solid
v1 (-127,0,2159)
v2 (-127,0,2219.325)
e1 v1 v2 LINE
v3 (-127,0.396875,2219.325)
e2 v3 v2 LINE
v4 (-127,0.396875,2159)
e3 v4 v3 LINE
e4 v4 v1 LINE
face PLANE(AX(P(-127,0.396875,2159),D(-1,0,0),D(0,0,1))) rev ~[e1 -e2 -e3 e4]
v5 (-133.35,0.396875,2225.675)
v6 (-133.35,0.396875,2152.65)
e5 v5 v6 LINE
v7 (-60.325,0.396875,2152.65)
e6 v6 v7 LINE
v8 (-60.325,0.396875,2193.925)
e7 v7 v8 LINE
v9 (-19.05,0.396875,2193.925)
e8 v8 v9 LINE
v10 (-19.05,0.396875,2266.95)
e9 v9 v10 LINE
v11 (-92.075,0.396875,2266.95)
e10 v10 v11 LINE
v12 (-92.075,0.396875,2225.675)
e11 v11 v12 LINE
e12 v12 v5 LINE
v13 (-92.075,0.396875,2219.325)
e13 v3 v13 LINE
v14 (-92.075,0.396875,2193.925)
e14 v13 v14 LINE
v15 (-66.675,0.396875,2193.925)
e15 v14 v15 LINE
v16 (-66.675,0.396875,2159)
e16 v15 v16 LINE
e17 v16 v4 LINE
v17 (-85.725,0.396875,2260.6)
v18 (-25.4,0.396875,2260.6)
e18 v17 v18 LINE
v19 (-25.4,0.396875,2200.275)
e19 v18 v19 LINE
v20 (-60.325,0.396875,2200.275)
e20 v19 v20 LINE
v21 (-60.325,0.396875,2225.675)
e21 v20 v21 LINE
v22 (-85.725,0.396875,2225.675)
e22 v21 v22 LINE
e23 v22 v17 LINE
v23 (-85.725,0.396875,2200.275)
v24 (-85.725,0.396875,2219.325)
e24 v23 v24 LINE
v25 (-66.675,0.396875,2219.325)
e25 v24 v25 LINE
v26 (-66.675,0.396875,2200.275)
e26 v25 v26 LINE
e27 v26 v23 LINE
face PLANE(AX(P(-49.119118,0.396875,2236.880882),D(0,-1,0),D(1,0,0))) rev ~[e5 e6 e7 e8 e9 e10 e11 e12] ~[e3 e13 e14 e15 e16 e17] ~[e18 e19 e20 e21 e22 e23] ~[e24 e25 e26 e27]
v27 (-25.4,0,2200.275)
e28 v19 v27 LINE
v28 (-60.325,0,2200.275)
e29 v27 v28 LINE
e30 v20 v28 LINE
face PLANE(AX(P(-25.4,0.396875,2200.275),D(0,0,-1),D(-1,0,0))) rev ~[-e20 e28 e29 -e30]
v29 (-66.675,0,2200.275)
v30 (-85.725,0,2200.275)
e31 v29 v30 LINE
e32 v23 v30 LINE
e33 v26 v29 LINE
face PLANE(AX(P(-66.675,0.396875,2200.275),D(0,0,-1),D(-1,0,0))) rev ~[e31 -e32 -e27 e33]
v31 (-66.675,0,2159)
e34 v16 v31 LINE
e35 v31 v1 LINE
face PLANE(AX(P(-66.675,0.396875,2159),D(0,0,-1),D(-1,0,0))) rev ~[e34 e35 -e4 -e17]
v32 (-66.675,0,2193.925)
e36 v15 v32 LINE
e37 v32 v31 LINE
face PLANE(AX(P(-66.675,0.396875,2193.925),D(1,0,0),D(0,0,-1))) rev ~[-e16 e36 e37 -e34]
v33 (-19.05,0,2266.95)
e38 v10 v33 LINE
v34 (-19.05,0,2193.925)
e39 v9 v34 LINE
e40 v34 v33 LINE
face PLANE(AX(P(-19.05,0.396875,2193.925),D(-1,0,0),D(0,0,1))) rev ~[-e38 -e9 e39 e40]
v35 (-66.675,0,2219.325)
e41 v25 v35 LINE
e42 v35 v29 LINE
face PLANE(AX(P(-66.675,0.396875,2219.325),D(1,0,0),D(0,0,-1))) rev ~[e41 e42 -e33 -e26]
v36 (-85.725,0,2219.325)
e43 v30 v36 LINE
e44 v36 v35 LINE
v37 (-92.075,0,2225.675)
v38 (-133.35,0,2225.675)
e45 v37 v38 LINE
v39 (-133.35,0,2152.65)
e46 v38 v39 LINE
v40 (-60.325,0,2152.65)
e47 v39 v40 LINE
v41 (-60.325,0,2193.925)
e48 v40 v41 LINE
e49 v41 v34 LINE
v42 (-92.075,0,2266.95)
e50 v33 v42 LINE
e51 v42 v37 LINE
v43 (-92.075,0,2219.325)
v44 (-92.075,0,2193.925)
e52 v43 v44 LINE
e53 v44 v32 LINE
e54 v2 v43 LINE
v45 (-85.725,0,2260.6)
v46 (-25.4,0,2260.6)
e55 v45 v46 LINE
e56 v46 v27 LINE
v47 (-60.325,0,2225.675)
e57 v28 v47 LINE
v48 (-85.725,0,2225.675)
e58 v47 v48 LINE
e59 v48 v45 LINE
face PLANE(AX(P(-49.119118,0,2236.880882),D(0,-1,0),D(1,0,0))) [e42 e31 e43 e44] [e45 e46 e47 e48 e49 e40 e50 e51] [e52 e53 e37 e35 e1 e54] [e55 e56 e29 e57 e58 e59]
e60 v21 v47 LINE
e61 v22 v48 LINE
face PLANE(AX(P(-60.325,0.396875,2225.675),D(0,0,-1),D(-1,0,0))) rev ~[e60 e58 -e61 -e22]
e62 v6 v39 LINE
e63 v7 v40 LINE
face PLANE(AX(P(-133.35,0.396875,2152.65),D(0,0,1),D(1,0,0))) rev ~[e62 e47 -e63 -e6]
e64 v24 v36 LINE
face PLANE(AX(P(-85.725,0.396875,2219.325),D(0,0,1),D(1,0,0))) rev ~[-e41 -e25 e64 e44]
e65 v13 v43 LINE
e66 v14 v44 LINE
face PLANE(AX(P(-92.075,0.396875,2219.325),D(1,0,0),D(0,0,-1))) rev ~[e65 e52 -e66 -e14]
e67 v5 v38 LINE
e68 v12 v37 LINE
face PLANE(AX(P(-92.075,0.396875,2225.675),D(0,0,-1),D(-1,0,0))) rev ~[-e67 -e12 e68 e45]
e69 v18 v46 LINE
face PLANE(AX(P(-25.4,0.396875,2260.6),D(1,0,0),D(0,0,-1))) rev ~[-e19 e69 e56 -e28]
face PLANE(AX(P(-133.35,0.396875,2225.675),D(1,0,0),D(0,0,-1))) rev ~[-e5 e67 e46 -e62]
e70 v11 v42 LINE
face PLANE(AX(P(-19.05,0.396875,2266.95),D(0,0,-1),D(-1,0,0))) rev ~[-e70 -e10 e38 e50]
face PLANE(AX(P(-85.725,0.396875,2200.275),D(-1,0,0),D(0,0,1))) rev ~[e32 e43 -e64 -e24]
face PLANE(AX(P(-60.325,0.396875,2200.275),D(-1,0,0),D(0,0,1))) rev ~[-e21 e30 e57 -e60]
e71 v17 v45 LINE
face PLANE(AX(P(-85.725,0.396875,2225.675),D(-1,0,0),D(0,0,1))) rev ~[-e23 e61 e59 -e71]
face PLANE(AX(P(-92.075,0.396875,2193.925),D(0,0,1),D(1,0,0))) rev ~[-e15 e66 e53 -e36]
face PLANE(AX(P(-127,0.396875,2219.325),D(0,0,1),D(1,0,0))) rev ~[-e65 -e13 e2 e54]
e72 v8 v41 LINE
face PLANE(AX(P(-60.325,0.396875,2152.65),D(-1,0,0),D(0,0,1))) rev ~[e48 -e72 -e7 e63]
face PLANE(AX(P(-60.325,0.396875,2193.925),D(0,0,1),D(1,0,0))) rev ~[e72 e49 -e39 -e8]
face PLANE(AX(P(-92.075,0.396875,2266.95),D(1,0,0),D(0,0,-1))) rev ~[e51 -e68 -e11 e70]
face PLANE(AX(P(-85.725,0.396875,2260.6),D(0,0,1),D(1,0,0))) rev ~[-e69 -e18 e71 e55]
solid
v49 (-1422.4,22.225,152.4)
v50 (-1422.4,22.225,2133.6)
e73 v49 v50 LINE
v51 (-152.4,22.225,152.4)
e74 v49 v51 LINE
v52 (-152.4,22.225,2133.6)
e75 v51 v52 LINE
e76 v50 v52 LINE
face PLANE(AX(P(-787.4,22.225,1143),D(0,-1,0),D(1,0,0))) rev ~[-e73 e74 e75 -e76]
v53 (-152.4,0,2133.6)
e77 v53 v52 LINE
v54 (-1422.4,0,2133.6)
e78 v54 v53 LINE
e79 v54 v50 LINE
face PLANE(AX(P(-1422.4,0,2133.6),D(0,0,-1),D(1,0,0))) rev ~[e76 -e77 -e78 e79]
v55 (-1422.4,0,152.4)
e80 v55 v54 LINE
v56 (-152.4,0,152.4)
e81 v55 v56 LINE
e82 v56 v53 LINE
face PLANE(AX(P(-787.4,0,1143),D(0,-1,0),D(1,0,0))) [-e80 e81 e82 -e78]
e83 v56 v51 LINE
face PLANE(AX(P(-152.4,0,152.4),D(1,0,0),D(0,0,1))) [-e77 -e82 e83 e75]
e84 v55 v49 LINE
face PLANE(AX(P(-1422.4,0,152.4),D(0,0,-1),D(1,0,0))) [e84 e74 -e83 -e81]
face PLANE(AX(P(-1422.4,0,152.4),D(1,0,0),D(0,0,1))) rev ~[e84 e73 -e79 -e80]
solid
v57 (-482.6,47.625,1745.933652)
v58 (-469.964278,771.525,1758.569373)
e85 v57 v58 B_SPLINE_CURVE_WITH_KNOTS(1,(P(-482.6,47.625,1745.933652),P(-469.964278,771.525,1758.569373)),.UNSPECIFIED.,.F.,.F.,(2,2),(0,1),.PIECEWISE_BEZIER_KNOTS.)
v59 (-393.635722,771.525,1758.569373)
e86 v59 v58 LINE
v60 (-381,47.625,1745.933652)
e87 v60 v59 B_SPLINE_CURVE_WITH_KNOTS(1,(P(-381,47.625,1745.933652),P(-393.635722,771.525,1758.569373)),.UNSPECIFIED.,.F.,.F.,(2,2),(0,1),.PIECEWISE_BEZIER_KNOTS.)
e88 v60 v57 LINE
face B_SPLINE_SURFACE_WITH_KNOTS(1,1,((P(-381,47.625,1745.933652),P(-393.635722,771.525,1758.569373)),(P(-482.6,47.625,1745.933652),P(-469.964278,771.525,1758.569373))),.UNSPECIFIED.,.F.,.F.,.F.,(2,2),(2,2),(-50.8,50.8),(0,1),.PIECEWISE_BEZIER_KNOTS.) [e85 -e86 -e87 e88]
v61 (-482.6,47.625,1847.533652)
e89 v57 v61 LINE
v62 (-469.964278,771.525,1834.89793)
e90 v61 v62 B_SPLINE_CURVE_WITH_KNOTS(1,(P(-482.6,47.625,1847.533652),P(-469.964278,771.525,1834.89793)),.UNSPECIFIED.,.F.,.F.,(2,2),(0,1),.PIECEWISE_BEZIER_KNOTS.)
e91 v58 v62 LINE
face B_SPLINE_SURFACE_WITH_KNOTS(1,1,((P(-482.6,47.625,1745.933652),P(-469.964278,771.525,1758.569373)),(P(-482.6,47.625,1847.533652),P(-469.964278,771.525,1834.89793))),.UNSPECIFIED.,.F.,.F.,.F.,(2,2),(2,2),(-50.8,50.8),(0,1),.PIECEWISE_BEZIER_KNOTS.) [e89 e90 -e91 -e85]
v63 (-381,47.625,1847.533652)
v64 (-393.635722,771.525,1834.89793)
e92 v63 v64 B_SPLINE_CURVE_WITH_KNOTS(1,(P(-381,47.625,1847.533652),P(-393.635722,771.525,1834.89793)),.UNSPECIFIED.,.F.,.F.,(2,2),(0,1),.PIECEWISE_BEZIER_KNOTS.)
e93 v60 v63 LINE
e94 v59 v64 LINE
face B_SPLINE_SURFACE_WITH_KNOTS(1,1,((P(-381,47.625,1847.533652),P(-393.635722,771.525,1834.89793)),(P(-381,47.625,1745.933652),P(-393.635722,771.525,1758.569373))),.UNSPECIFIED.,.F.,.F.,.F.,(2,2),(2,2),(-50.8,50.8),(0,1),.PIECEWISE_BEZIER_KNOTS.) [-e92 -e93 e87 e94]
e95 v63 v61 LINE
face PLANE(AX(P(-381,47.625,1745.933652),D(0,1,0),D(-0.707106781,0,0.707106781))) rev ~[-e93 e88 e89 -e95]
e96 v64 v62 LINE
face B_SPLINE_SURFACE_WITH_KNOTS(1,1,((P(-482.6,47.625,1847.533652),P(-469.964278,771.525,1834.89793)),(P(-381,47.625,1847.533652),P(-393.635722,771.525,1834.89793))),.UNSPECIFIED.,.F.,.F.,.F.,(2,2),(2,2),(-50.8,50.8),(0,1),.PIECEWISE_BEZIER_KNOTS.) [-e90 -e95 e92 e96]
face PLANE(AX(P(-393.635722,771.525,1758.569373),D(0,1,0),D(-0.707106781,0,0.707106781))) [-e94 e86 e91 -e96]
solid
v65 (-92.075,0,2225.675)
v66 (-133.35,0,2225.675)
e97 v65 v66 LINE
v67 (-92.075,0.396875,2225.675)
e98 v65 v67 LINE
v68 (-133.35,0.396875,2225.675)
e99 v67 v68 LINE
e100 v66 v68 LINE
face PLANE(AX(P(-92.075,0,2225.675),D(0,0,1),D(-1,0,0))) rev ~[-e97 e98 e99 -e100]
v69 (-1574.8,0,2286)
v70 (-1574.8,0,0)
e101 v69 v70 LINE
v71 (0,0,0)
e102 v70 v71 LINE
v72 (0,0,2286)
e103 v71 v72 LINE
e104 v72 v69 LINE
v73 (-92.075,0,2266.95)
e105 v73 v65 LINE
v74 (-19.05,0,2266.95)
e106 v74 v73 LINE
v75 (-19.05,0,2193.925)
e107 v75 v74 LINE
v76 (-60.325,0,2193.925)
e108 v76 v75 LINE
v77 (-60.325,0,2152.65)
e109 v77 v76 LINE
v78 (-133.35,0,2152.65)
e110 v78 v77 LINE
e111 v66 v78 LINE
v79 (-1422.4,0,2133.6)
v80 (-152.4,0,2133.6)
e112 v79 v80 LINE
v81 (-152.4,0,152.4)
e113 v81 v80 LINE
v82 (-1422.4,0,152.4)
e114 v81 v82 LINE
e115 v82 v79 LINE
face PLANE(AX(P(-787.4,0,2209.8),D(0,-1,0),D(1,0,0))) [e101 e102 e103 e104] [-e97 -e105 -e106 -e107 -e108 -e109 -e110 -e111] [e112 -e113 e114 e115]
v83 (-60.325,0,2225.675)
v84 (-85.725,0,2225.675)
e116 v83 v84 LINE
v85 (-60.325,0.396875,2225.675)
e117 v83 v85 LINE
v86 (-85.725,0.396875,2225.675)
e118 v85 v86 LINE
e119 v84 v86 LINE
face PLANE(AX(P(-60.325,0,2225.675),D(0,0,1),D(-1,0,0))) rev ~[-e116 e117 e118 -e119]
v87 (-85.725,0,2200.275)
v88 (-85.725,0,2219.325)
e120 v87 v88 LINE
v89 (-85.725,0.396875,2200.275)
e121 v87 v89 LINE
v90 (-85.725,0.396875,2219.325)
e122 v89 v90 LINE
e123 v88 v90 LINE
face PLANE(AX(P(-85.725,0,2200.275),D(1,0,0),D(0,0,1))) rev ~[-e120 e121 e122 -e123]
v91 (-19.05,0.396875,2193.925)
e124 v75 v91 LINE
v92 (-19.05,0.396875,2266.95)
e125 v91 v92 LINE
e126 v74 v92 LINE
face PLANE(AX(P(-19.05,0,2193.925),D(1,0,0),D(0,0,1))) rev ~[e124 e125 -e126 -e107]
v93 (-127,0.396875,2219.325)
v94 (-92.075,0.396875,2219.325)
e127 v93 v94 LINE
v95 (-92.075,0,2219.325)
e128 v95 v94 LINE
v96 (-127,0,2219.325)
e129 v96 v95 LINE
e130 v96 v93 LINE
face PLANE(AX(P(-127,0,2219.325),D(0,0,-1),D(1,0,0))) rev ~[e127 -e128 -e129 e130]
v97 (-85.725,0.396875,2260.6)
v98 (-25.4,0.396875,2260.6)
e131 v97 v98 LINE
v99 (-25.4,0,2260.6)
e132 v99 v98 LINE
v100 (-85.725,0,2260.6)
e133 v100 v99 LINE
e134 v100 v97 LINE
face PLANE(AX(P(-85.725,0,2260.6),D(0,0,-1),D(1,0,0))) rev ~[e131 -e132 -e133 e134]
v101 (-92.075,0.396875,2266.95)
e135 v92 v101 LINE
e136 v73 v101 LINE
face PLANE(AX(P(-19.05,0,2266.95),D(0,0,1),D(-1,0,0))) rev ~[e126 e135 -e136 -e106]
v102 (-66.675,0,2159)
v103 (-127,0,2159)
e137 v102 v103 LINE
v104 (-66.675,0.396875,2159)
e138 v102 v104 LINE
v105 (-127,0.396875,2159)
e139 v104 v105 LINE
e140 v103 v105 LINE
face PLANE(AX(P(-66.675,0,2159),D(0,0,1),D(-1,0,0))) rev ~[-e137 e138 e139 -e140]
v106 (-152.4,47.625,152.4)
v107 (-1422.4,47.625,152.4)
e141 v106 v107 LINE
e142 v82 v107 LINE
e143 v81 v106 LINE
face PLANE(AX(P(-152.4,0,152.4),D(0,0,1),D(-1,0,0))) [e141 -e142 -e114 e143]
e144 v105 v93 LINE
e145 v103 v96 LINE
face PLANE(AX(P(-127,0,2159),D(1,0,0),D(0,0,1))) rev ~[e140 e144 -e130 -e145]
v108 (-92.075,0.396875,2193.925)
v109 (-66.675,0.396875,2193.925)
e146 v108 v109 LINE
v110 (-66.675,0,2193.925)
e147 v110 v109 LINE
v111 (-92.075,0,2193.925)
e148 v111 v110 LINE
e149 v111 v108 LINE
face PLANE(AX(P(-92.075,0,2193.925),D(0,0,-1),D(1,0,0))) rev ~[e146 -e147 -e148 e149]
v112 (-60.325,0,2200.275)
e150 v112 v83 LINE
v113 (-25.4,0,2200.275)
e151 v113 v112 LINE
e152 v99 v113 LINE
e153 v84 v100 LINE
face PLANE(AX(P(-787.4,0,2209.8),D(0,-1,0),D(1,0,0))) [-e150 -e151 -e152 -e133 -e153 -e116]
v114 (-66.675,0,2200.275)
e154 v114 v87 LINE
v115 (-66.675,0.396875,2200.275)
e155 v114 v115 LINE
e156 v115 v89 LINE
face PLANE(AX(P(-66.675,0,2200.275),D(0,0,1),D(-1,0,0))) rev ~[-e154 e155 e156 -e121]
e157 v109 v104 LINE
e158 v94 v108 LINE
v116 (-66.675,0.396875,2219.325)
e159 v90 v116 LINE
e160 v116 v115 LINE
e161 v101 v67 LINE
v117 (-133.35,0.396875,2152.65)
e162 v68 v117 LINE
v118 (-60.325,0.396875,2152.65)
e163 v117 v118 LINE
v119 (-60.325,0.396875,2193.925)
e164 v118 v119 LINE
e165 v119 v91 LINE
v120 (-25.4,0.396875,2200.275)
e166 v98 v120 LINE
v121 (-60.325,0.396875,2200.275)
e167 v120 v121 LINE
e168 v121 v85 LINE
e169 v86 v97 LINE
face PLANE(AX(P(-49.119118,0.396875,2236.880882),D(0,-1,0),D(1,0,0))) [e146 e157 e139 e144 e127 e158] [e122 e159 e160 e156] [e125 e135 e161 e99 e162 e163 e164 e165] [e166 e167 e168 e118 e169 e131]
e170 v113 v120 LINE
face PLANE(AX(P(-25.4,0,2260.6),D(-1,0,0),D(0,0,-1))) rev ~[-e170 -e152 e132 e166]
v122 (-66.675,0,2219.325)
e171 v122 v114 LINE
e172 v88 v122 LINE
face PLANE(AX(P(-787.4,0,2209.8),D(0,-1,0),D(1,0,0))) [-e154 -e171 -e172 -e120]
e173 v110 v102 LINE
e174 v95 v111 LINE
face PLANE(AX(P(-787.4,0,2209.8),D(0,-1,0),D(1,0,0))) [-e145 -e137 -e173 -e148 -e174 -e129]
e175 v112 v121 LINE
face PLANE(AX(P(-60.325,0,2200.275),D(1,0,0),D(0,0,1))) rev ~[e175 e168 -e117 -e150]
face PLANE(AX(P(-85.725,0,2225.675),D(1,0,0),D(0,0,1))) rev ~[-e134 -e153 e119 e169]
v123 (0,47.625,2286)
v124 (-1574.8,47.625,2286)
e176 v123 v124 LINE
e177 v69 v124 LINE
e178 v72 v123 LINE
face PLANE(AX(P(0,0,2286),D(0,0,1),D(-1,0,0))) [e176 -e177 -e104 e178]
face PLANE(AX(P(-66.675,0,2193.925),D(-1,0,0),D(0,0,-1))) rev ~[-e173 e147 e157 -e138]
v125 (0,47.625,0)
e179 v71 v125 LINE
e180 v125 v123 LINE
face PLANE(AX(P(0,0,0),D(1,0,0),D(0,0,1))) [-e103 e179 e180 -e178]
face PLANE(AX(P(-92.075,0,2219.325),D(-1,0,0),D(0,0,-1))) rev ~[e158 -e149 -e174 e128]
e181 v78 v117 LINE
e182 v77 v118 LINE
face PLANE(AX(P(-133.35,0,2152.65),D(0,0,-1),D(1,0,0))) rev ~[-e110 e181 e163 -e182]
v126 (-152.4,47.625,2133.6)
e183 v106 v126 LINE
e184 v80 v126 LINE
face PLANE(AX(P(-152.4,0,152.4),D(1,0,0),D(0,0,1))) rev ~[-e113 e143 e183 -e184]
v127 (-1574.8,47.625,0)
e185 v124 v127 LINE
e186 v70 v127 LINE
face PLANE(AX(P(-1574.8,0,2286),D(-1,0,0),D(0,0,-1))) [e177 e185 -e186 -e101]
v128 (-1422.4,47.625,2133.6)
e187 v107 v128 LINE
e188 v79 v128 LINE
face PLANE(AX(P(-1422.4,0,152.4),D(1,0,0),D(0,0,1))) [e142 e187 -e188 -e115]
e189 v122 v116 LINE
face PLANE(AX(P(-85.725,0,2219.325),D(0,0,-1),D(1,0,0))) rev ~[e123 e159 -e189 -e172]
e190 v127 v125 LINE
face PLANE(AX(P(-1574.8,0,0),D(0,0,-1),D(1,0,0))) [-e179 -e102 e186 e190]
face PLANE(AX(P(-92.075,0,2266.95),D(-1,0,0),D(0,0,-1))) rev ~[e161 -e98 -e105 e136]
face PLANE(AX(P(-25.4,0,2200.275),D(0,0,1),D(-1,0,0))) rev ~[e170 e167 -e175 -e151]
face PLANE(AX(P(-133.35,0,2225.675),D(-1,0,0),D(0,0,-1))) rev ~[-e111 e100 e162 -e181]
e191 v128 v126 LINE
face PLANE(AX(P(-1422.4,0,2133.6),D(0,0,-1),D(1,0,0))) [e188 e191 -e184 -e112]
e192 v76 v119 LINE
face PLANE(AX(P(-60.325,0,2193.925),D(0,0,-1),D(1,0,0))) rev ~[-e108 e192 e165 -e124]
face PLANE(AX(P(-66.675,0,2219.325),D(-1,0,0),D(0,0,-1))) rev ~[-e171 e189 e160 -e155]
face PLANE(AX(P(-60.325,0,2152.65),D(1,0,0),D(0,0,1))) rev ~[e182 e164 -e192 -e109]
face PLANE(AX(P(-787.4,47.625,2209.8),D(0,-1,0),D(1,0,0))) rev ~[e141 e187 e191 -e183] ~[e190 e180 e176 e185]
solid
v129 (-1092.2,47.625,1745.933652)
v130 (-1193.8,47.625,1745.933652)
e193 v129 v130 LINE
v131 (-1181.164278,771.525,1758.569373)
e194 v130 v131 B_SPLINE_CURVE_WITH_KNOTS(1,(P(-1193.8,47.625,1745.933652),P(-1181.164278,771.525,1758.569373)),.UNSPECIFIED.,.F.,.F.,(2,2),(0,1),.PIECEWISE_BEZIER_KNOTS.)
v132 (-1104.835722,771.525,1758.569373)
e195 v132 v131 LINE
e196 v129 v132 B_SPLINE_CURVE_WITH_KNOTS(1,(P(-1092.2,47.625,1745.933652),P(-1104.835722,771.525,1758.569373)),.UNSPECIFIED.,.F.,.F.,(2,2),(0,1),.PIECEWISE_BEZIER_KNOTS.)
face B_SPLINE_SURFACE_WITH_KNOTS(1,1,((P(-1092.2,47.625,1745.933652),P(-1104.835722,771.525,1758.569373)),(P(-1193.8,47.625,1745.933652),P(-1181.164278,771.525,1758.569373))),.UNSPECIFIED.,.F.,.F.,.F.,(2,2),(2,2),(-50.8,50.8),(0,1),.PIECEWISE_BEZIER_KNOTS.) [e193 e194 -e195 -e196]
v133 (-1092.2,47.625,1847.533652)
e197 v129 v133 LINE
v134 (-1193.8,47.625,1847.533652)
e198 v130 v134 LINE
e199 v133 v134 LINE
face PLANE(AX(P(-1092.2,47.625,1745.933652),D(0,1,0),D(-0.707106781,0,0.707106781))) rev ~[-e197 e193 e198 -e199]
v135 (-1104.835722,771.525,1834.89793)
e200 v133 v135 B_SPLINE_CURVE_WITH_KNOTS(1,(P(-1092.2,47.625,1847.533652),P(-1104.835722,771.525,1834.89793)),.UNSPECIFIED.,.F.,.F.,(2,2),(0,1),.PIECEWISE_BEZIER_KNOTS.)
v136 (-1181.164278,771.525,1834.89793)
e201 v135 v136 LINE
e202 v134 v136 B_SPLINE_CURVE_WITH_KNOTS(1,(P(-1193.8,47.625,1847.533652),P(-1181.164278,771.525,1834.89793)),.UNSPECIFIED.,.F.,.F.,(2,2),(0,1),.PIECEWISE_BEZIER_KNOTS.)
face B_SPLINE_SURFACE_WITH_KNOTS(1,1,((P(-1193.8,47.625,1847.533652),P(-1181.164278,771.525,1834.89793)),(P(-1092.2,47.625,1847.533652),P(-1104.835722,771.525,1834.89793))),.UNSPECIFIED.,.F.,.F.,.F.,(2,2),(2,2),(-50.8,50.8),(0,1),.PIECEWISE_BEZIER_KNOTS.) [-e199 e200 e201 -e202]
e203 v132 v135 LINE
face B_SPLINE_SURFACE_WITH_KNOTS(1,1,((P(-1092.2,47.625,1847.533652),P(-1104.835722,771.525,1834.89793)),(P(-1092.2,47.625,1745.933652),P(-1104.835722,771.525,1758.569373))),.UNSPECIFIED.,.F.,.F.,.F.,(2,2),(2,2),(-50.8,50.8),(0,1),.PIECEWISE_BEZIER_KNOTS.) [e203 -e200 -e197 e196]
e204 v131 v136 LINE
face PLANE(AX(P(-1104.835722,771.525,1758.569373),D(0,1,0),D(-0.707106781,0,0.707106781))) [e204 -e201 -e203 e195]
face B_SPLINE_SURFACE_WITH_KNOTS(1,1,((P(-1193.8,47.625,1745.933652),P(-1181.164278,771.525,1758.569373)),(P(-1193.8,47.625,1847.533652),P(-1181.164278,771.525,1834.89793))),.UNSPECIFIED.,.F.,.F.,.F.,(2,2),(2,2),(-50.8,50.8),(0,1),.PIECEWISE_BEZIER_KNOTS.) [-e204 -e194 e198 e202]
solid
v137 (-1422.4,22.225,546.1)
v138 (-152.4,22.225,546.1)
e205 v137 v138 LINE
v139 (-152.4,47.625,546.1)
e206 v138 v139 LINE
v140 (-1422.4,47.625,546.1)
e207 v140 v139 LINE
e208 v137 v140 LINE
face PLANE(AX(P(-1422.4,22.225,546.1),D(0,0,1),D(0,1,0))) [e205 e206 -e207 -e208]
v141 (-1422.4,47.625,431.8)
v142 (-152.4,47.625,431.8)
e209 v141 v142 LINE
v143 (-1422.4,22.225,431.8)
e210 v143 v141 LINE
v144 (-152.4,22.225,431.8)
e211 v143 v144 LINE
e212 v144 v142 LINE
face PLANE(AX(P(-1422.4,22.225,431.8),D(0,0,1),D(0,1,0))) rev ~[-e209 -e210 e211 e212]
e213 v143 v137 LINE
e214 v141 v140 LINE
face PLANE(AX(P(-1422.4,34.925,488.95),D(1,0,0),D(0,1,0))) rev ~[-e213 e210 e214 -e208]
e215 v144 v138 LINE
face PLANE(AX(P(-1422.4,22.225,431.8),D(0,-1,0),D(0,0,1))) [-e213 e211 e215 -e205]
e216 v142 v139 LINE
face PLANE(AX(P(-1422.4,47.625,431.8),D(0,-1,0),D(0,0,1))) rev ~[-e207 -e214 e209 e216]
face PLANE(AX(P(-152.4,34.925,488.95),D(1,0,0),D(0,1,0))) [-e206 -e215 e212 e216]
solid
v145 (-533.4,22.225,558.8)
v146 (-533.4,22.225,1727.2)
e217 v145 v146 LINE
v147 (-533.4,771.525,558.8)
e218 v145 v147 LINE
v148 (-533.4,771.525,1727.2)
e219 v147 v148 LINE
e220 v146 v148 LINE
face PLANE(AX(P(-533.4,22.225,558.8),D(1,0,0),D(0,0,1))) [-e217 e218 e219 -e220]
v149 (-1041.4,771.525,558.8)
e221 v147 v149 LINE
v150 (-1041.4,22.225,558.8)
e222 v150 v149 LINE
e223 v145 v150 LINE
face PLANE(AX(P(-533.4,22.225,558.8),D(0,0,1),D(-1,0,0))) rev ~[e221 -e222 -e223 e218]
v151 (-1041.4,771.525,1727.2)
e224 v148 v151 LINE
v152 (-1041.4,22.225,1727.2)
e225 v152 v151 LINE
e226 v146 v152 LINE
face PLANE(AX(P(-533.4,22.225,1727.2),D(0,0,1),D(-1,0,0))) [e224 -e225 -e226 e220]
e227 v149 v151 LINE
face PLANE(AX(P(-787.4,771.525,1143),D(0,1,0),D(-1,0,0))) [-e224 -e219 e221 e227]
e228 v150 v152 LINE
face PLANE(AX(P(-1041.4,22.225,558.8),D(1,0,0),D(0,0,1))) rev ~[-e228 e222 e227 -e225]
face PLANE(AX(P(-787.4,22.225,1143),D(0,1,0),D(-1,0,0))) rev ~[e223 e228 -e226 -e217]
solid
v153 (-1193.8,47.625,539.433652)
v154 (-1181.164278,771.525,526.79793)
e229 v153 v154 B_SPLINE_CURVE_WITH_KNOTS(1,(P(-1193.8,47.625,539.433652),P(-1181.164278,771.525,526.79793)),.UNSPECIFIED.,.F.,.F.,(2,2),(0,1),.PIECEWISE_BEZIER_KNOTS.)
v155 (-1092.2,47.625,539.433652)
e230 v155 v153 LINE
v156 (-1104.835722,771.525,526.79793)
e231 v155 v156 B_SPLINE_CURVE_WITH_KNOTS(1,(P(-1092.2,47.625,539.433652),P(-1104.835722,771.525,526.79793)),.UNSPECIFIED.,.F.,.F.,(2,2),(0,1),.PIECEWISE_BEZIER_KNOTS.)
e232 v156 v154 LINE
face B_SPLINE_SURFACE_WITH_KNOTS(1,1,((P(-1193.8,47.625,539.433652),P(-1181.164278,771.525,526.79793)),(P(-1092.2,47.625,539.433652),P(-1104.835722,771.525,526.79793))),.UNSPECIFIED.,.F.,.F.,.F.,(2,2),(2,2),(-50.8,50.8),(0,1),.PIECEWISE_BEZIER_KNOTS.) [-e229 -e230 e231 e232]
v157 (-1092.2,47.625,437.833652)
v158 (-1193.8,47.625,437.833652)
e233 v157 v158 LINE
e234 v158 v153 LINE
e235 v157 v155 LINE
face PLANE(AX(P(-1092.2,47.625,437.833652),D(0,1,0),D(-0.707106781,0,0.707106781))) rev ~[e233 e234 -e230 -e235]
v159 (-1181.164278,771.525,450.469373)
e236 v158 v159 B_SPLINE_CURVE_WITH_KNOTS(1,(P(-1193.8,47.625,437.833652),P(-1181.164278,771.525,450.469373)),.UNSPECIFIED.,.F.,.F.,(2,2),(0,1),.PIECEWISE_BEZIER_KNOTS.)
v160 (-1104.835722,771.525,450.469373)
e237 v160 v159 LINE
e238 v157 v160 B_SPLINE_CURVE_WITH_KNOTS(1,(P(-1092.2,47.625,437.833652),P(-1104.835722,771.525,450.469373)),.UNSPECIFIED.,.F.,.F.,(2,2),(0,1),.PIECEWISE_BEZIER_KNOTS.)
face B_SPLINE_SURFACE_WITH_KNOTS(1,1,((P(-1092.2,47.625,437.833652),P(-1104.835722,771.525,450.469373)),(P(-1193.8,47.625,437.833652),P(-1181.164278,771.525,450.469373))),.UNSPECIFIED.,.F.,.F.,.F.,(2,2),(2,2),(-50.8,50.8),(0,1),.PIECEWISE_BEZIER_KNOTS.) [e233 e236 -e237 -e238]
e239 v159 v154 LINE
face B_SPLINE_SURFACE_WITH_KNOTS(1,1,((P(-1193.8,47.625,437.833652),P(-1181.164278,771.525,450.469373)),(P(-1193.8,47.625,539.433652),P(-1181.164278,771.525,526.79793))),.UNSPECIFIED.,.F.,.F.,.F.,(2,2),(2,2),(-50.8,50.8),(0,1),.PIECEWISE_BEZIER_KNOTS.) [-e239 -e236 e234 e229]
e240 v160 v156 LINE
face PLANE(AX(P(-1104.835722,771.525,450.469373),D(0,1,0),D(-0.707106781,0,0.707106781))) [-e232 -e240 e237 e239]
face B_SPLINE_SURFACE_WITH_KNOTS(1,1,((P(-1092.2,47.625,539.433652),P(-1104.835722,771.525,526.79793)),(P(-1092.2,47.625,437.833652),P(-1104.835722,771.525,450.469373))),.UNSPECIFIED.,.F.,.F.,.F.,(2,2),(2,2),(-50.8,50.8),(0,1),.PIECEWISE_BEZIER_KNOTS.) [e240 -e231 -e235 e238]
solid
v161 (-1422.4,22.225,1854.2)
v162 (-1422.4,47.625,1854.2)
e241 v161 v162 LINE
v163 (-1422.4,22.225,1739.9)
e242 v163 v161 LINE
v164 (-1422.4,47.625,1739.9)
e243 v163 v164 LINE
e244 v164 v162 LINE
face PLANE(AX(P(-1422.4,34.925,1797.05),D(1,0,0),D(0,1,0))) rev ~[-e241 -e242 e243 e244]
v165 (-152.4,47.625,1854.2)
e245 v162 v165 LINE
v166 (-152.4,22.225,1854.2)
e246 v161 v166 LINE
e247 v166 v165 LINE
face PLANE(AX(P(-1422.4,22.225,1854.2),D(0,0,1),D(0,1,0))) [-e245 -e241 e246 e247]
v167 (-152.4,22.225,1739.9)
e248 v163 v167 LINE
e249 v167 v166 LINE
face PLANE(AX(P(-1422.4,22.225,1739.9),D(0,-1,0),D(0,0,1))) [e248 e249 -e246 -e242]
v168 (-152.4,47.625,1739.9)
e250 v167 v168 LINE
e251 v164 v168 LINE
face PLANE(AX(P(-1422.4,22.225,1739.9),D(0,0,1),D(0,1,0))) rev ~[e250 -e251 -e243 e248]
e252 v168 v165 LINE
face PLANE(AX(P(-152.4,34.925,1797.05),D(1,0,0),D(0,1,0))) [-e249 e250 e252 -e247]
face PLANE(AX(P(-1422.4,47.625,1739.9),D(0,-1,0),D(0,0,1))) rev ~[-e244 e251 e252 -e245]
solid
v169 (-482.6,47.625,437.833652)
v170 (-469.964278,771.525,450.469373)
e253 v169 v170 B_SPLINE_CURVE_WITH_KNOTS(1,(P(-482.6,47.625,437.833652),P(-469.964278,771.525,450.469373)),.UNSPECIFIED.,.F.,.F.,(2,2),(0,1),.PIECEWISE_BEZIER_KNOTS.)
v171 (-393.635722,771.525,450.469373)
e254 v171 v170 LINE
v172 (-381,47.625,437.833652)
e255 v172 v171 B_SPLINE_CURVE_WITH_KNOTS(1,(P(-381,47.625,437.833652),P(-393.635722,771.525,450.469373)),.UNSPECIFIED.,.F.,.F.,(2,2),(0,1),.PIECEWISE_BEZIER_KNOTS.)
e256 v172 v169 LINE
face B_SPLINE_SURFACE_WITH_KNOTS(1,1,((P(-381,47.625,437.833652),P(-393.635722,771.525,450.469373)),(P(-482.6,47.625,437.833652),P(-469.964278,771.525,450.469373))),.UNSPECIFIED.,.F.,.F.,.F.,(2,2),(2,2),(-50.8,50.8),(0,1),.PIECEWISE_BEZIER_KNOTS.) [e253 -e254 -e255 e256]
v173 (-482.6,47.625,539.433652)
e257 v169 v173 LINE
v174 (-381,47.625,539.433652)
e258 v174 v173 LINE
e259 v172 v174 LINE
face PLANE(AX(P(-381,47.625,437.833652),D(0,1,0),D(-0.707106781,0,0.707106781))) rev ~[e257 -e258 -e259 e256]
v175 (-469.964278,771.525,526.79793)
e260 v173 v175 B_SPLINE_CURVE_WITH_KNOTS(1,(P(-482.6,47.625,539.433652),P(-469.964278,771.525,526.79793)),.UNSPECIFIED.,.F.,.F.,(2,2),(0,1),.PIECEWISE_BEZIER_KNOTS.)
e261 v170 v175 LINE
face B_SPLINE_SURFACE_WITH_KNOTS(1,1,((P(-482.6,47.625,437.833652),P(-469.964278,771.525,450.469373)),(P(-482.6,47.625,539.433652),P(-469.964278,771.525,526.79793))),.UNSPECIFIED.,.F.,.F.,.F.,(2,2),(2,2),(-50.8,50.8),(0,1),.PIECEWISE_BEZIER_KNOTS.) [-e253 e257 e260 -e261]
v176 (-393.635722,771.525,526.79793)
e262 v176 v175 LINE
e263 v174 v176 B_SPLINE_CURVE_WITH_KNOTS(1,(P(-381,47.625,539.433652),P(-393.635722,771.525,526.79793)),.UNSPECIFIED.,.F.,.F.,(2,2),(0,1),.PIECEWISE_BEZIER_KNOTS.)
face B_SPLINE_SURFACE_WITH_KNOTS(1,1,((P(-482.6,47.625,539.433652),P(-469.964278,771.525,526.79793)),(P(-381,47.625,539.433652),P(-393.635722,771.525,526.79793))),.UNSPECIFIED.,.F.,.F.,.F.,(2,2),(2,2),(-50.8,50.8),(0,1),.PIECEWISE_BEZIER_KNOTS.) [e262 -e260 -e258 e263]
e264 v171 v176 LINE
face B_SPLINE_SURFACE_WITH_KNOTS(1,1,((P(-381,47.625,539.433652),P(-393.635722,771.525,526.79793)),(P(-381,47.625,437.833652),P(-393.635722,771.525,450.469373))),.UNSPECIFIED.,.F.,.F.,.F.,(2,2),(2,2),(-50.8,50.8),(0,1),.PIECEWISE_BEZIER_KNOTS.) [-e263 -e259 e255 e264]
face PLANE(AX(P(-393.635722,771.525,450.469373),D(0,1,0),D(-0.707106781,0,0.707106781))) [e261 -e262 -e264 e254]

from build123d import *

# Parameters (mm, degrees)
F0_W      = 152.4
F0_H      = 1981.2
F1_DEPTH  = 47.625
F0_W_2    = 1270
F2_DEPTH  = 22.225
F3_W      = 25.4
F3_H      = 114.3
F4_DEPTH  = 1270
F5_W      = 101.6
F5_H      = 101.6
F6_DEPTH  = 723.9
F6_TAPER  = 1
F7_W      = 508
F7_H      = 1168.4
F8_DEPTH  = 749.3
F9_W      = 6.35
F9_H      = 6.35
F10_DEPTH = 0.396875
F11_DEPTH = 0.396875


with BuildPart() as f1:
    # F0 (on Front) → F1 (new body)
    with BuildSketch(Plane.XZ):
        Polygon((-152.4, 2133.6), (0, 2133.6), (0, 2286), (-1574.8, 2286), (-1574.8, 2133.6), (-1422.4, 2133.6), align=None)
        with Locations((-1498.6, 1143)):
            Rectangle(F0_W, F0_H)
        with Locations((-76.2, 1143)):
            Rectangle(F0_W, F0_H)
        Polygon((-1574.8, 0), (0, 0), (0, 152.4), (-152.4, 152.4), (-1422.4, 152.4), (-1574.8, 152.4), align=None)
    extrude(amount=-F1_DEPTH)

    # F9 (on face) → F10 (cut)
    with BuildSketch(Plane.XZ):
        Polygon((-60.325, 2200.275), (-60.325, 2193.925), (-19.05, 2193.925), (-19.05, 2266.95), (-92.075, 2266.95), (-92.075, 2225.675), (-85.725, 2225.675), (-85.725, 2260.6), (-25.4, 2260.6), (-25.4, 2200.275), align=None)
        Polygon((-92.075, 2219.325), (-92.075, 2193.925), (-66.675, 2193.925), (-66.675, 2200.275), (-85.725, 2200.275), (-85.725, 2219.325), align=None)
        with Locations((-63.5, 2197.1)):
            Rectangle(F9_W, F9_H)
        Polygon((-66.675, 2219.325), (-66.675, 2200.275), (-60.325, 2200.275), (-60.325, 2225.675), (-85.725, 2225.675), (-85.725, 2219.325), align=None)
        with Locations((-88.9, 2222.5)):
            Rectangle(F9_W, F9_H)
        Polygon((-60.325, 2193.925), (-66.675, 2193.925), (-66.675, 2159), (-127, 2159), (-127, 2219.325), (-92.075, 2219.325), (-92.075, 2225.675), (-133.35, 2225.675), (-133.35, 2152.65), (-60.325, 2152.65), align=None)
    extrude(amount=-F10_DEPTH, mode=Mode.SUBTRACT)


with BuildPart() as f2:
    # F0 (on Front) → F2 (new body)
    with BuildSketch(Plane.XZ):
        with Locations((-787.4, 1143)):
            Rectangle(F0_W_2, F0_H)
    extrude(amount=-F2_DEPTH)


with BuildPart() as f4:
    # F3 (on face) → F4 (new body, through all)
    with BuildSketch(Plane.YZ.offset(-1422.4)):
        with Locations((34.925, 488.95)):
            Rectangle(F3_W, F3_H)
    extrude(amount=F4_DEPTH)


with BuildPart() as f4b:
    # F3 (on face) → F4, piece 2 (new body, through all)
    with BuildSketch(Plane.YZ.offset(-1422.4)):
        with Locations((34.925, 1797.05)):
            Rectangle(F3_W, F3_H)
    extrude(amount=F4_DEPTH)


with BuildPart() as f6:
    # F5 (on face) → F6 (new body)
    with BuildSketch(Plane(origin=(0, 47.625, 0), x_dir=(-1, 0, 0), z_dir=(0, 1, 0))):
        with Locations((431.8, 1796.7336519241)):
            Rectangle(F5_W, F5_H)
    extrude(amount=F6_DEPTH, taper=F6_TAPER)


with BuildPart() as f6b:
    # F5 (on face) → F6, piece 2 (new body)
    with BuildSketch(Plane(origin=(0, 47.625, 0), x_dir=(-1, 0, 0), z_dir=(0, 1, 0))):
        with Locations((1143, 1796.7336519241)):
            Rectangle(F5_W, F5_H)
    extrude(amount=F6_DEPTH, taper=F6_TAPER)


with BuildPart() as f6c:
    # F5 (on face) → F6, piece 3 (new body)
    with BuildSketch(Plane(origin=(0, 47.625, 0), x_dir=(-1, 0, 0), z_dir=(0, 1, 0))):
        with Locations((431.8, 488.6336519241)):
            Rectangle(F5_W, F5_H)
    extrude(amount=F6_DEPTH, taper=F6_TAPER)


with BuildPart() as f6d:
    # F5 (on face) → F6, piece 4 (new body)
    with BuildSketch(Plane(origin=(0, 47.625, 0), x_dir=(-1, 0, 0), z_dir=(0, 1, 0))):
        with Locations((1143, 488.6336519241)):
            Rectangle(F5_W, F5_H)
    extrude(amount=F6_DEPTH, taper=F6_TAPER)


with BuildPart() as f8:
    # F7 (on face) → F8 (new body, through all)
    with BuildSketch(Plane(origin=(0, 22.225, 0), x_dir=(-1, 0, 0), z_dir=(0, 1, 0))):
        with Locations((787.4, 1143)):
            Rectangle(F7_W, F7_H)
    extrude(amount=F8_DEPTH)


with BuildPart() as f11:
    # F11 (new, through all): a face of the model
    f11_faces = [f1.part.faces().sort_by_distance(p)[0] for p in [
        (-90.4585538982, 0.396875, 2246.3125),
    ]]
    extrude(f11_faces, amount=F11_DEPTH)


solid = Compound([f1.part, f2.part, f4.part, f4b.part, f6.part, f6b.part, f6c.part, f6d.part, f8.part, f11.part])
